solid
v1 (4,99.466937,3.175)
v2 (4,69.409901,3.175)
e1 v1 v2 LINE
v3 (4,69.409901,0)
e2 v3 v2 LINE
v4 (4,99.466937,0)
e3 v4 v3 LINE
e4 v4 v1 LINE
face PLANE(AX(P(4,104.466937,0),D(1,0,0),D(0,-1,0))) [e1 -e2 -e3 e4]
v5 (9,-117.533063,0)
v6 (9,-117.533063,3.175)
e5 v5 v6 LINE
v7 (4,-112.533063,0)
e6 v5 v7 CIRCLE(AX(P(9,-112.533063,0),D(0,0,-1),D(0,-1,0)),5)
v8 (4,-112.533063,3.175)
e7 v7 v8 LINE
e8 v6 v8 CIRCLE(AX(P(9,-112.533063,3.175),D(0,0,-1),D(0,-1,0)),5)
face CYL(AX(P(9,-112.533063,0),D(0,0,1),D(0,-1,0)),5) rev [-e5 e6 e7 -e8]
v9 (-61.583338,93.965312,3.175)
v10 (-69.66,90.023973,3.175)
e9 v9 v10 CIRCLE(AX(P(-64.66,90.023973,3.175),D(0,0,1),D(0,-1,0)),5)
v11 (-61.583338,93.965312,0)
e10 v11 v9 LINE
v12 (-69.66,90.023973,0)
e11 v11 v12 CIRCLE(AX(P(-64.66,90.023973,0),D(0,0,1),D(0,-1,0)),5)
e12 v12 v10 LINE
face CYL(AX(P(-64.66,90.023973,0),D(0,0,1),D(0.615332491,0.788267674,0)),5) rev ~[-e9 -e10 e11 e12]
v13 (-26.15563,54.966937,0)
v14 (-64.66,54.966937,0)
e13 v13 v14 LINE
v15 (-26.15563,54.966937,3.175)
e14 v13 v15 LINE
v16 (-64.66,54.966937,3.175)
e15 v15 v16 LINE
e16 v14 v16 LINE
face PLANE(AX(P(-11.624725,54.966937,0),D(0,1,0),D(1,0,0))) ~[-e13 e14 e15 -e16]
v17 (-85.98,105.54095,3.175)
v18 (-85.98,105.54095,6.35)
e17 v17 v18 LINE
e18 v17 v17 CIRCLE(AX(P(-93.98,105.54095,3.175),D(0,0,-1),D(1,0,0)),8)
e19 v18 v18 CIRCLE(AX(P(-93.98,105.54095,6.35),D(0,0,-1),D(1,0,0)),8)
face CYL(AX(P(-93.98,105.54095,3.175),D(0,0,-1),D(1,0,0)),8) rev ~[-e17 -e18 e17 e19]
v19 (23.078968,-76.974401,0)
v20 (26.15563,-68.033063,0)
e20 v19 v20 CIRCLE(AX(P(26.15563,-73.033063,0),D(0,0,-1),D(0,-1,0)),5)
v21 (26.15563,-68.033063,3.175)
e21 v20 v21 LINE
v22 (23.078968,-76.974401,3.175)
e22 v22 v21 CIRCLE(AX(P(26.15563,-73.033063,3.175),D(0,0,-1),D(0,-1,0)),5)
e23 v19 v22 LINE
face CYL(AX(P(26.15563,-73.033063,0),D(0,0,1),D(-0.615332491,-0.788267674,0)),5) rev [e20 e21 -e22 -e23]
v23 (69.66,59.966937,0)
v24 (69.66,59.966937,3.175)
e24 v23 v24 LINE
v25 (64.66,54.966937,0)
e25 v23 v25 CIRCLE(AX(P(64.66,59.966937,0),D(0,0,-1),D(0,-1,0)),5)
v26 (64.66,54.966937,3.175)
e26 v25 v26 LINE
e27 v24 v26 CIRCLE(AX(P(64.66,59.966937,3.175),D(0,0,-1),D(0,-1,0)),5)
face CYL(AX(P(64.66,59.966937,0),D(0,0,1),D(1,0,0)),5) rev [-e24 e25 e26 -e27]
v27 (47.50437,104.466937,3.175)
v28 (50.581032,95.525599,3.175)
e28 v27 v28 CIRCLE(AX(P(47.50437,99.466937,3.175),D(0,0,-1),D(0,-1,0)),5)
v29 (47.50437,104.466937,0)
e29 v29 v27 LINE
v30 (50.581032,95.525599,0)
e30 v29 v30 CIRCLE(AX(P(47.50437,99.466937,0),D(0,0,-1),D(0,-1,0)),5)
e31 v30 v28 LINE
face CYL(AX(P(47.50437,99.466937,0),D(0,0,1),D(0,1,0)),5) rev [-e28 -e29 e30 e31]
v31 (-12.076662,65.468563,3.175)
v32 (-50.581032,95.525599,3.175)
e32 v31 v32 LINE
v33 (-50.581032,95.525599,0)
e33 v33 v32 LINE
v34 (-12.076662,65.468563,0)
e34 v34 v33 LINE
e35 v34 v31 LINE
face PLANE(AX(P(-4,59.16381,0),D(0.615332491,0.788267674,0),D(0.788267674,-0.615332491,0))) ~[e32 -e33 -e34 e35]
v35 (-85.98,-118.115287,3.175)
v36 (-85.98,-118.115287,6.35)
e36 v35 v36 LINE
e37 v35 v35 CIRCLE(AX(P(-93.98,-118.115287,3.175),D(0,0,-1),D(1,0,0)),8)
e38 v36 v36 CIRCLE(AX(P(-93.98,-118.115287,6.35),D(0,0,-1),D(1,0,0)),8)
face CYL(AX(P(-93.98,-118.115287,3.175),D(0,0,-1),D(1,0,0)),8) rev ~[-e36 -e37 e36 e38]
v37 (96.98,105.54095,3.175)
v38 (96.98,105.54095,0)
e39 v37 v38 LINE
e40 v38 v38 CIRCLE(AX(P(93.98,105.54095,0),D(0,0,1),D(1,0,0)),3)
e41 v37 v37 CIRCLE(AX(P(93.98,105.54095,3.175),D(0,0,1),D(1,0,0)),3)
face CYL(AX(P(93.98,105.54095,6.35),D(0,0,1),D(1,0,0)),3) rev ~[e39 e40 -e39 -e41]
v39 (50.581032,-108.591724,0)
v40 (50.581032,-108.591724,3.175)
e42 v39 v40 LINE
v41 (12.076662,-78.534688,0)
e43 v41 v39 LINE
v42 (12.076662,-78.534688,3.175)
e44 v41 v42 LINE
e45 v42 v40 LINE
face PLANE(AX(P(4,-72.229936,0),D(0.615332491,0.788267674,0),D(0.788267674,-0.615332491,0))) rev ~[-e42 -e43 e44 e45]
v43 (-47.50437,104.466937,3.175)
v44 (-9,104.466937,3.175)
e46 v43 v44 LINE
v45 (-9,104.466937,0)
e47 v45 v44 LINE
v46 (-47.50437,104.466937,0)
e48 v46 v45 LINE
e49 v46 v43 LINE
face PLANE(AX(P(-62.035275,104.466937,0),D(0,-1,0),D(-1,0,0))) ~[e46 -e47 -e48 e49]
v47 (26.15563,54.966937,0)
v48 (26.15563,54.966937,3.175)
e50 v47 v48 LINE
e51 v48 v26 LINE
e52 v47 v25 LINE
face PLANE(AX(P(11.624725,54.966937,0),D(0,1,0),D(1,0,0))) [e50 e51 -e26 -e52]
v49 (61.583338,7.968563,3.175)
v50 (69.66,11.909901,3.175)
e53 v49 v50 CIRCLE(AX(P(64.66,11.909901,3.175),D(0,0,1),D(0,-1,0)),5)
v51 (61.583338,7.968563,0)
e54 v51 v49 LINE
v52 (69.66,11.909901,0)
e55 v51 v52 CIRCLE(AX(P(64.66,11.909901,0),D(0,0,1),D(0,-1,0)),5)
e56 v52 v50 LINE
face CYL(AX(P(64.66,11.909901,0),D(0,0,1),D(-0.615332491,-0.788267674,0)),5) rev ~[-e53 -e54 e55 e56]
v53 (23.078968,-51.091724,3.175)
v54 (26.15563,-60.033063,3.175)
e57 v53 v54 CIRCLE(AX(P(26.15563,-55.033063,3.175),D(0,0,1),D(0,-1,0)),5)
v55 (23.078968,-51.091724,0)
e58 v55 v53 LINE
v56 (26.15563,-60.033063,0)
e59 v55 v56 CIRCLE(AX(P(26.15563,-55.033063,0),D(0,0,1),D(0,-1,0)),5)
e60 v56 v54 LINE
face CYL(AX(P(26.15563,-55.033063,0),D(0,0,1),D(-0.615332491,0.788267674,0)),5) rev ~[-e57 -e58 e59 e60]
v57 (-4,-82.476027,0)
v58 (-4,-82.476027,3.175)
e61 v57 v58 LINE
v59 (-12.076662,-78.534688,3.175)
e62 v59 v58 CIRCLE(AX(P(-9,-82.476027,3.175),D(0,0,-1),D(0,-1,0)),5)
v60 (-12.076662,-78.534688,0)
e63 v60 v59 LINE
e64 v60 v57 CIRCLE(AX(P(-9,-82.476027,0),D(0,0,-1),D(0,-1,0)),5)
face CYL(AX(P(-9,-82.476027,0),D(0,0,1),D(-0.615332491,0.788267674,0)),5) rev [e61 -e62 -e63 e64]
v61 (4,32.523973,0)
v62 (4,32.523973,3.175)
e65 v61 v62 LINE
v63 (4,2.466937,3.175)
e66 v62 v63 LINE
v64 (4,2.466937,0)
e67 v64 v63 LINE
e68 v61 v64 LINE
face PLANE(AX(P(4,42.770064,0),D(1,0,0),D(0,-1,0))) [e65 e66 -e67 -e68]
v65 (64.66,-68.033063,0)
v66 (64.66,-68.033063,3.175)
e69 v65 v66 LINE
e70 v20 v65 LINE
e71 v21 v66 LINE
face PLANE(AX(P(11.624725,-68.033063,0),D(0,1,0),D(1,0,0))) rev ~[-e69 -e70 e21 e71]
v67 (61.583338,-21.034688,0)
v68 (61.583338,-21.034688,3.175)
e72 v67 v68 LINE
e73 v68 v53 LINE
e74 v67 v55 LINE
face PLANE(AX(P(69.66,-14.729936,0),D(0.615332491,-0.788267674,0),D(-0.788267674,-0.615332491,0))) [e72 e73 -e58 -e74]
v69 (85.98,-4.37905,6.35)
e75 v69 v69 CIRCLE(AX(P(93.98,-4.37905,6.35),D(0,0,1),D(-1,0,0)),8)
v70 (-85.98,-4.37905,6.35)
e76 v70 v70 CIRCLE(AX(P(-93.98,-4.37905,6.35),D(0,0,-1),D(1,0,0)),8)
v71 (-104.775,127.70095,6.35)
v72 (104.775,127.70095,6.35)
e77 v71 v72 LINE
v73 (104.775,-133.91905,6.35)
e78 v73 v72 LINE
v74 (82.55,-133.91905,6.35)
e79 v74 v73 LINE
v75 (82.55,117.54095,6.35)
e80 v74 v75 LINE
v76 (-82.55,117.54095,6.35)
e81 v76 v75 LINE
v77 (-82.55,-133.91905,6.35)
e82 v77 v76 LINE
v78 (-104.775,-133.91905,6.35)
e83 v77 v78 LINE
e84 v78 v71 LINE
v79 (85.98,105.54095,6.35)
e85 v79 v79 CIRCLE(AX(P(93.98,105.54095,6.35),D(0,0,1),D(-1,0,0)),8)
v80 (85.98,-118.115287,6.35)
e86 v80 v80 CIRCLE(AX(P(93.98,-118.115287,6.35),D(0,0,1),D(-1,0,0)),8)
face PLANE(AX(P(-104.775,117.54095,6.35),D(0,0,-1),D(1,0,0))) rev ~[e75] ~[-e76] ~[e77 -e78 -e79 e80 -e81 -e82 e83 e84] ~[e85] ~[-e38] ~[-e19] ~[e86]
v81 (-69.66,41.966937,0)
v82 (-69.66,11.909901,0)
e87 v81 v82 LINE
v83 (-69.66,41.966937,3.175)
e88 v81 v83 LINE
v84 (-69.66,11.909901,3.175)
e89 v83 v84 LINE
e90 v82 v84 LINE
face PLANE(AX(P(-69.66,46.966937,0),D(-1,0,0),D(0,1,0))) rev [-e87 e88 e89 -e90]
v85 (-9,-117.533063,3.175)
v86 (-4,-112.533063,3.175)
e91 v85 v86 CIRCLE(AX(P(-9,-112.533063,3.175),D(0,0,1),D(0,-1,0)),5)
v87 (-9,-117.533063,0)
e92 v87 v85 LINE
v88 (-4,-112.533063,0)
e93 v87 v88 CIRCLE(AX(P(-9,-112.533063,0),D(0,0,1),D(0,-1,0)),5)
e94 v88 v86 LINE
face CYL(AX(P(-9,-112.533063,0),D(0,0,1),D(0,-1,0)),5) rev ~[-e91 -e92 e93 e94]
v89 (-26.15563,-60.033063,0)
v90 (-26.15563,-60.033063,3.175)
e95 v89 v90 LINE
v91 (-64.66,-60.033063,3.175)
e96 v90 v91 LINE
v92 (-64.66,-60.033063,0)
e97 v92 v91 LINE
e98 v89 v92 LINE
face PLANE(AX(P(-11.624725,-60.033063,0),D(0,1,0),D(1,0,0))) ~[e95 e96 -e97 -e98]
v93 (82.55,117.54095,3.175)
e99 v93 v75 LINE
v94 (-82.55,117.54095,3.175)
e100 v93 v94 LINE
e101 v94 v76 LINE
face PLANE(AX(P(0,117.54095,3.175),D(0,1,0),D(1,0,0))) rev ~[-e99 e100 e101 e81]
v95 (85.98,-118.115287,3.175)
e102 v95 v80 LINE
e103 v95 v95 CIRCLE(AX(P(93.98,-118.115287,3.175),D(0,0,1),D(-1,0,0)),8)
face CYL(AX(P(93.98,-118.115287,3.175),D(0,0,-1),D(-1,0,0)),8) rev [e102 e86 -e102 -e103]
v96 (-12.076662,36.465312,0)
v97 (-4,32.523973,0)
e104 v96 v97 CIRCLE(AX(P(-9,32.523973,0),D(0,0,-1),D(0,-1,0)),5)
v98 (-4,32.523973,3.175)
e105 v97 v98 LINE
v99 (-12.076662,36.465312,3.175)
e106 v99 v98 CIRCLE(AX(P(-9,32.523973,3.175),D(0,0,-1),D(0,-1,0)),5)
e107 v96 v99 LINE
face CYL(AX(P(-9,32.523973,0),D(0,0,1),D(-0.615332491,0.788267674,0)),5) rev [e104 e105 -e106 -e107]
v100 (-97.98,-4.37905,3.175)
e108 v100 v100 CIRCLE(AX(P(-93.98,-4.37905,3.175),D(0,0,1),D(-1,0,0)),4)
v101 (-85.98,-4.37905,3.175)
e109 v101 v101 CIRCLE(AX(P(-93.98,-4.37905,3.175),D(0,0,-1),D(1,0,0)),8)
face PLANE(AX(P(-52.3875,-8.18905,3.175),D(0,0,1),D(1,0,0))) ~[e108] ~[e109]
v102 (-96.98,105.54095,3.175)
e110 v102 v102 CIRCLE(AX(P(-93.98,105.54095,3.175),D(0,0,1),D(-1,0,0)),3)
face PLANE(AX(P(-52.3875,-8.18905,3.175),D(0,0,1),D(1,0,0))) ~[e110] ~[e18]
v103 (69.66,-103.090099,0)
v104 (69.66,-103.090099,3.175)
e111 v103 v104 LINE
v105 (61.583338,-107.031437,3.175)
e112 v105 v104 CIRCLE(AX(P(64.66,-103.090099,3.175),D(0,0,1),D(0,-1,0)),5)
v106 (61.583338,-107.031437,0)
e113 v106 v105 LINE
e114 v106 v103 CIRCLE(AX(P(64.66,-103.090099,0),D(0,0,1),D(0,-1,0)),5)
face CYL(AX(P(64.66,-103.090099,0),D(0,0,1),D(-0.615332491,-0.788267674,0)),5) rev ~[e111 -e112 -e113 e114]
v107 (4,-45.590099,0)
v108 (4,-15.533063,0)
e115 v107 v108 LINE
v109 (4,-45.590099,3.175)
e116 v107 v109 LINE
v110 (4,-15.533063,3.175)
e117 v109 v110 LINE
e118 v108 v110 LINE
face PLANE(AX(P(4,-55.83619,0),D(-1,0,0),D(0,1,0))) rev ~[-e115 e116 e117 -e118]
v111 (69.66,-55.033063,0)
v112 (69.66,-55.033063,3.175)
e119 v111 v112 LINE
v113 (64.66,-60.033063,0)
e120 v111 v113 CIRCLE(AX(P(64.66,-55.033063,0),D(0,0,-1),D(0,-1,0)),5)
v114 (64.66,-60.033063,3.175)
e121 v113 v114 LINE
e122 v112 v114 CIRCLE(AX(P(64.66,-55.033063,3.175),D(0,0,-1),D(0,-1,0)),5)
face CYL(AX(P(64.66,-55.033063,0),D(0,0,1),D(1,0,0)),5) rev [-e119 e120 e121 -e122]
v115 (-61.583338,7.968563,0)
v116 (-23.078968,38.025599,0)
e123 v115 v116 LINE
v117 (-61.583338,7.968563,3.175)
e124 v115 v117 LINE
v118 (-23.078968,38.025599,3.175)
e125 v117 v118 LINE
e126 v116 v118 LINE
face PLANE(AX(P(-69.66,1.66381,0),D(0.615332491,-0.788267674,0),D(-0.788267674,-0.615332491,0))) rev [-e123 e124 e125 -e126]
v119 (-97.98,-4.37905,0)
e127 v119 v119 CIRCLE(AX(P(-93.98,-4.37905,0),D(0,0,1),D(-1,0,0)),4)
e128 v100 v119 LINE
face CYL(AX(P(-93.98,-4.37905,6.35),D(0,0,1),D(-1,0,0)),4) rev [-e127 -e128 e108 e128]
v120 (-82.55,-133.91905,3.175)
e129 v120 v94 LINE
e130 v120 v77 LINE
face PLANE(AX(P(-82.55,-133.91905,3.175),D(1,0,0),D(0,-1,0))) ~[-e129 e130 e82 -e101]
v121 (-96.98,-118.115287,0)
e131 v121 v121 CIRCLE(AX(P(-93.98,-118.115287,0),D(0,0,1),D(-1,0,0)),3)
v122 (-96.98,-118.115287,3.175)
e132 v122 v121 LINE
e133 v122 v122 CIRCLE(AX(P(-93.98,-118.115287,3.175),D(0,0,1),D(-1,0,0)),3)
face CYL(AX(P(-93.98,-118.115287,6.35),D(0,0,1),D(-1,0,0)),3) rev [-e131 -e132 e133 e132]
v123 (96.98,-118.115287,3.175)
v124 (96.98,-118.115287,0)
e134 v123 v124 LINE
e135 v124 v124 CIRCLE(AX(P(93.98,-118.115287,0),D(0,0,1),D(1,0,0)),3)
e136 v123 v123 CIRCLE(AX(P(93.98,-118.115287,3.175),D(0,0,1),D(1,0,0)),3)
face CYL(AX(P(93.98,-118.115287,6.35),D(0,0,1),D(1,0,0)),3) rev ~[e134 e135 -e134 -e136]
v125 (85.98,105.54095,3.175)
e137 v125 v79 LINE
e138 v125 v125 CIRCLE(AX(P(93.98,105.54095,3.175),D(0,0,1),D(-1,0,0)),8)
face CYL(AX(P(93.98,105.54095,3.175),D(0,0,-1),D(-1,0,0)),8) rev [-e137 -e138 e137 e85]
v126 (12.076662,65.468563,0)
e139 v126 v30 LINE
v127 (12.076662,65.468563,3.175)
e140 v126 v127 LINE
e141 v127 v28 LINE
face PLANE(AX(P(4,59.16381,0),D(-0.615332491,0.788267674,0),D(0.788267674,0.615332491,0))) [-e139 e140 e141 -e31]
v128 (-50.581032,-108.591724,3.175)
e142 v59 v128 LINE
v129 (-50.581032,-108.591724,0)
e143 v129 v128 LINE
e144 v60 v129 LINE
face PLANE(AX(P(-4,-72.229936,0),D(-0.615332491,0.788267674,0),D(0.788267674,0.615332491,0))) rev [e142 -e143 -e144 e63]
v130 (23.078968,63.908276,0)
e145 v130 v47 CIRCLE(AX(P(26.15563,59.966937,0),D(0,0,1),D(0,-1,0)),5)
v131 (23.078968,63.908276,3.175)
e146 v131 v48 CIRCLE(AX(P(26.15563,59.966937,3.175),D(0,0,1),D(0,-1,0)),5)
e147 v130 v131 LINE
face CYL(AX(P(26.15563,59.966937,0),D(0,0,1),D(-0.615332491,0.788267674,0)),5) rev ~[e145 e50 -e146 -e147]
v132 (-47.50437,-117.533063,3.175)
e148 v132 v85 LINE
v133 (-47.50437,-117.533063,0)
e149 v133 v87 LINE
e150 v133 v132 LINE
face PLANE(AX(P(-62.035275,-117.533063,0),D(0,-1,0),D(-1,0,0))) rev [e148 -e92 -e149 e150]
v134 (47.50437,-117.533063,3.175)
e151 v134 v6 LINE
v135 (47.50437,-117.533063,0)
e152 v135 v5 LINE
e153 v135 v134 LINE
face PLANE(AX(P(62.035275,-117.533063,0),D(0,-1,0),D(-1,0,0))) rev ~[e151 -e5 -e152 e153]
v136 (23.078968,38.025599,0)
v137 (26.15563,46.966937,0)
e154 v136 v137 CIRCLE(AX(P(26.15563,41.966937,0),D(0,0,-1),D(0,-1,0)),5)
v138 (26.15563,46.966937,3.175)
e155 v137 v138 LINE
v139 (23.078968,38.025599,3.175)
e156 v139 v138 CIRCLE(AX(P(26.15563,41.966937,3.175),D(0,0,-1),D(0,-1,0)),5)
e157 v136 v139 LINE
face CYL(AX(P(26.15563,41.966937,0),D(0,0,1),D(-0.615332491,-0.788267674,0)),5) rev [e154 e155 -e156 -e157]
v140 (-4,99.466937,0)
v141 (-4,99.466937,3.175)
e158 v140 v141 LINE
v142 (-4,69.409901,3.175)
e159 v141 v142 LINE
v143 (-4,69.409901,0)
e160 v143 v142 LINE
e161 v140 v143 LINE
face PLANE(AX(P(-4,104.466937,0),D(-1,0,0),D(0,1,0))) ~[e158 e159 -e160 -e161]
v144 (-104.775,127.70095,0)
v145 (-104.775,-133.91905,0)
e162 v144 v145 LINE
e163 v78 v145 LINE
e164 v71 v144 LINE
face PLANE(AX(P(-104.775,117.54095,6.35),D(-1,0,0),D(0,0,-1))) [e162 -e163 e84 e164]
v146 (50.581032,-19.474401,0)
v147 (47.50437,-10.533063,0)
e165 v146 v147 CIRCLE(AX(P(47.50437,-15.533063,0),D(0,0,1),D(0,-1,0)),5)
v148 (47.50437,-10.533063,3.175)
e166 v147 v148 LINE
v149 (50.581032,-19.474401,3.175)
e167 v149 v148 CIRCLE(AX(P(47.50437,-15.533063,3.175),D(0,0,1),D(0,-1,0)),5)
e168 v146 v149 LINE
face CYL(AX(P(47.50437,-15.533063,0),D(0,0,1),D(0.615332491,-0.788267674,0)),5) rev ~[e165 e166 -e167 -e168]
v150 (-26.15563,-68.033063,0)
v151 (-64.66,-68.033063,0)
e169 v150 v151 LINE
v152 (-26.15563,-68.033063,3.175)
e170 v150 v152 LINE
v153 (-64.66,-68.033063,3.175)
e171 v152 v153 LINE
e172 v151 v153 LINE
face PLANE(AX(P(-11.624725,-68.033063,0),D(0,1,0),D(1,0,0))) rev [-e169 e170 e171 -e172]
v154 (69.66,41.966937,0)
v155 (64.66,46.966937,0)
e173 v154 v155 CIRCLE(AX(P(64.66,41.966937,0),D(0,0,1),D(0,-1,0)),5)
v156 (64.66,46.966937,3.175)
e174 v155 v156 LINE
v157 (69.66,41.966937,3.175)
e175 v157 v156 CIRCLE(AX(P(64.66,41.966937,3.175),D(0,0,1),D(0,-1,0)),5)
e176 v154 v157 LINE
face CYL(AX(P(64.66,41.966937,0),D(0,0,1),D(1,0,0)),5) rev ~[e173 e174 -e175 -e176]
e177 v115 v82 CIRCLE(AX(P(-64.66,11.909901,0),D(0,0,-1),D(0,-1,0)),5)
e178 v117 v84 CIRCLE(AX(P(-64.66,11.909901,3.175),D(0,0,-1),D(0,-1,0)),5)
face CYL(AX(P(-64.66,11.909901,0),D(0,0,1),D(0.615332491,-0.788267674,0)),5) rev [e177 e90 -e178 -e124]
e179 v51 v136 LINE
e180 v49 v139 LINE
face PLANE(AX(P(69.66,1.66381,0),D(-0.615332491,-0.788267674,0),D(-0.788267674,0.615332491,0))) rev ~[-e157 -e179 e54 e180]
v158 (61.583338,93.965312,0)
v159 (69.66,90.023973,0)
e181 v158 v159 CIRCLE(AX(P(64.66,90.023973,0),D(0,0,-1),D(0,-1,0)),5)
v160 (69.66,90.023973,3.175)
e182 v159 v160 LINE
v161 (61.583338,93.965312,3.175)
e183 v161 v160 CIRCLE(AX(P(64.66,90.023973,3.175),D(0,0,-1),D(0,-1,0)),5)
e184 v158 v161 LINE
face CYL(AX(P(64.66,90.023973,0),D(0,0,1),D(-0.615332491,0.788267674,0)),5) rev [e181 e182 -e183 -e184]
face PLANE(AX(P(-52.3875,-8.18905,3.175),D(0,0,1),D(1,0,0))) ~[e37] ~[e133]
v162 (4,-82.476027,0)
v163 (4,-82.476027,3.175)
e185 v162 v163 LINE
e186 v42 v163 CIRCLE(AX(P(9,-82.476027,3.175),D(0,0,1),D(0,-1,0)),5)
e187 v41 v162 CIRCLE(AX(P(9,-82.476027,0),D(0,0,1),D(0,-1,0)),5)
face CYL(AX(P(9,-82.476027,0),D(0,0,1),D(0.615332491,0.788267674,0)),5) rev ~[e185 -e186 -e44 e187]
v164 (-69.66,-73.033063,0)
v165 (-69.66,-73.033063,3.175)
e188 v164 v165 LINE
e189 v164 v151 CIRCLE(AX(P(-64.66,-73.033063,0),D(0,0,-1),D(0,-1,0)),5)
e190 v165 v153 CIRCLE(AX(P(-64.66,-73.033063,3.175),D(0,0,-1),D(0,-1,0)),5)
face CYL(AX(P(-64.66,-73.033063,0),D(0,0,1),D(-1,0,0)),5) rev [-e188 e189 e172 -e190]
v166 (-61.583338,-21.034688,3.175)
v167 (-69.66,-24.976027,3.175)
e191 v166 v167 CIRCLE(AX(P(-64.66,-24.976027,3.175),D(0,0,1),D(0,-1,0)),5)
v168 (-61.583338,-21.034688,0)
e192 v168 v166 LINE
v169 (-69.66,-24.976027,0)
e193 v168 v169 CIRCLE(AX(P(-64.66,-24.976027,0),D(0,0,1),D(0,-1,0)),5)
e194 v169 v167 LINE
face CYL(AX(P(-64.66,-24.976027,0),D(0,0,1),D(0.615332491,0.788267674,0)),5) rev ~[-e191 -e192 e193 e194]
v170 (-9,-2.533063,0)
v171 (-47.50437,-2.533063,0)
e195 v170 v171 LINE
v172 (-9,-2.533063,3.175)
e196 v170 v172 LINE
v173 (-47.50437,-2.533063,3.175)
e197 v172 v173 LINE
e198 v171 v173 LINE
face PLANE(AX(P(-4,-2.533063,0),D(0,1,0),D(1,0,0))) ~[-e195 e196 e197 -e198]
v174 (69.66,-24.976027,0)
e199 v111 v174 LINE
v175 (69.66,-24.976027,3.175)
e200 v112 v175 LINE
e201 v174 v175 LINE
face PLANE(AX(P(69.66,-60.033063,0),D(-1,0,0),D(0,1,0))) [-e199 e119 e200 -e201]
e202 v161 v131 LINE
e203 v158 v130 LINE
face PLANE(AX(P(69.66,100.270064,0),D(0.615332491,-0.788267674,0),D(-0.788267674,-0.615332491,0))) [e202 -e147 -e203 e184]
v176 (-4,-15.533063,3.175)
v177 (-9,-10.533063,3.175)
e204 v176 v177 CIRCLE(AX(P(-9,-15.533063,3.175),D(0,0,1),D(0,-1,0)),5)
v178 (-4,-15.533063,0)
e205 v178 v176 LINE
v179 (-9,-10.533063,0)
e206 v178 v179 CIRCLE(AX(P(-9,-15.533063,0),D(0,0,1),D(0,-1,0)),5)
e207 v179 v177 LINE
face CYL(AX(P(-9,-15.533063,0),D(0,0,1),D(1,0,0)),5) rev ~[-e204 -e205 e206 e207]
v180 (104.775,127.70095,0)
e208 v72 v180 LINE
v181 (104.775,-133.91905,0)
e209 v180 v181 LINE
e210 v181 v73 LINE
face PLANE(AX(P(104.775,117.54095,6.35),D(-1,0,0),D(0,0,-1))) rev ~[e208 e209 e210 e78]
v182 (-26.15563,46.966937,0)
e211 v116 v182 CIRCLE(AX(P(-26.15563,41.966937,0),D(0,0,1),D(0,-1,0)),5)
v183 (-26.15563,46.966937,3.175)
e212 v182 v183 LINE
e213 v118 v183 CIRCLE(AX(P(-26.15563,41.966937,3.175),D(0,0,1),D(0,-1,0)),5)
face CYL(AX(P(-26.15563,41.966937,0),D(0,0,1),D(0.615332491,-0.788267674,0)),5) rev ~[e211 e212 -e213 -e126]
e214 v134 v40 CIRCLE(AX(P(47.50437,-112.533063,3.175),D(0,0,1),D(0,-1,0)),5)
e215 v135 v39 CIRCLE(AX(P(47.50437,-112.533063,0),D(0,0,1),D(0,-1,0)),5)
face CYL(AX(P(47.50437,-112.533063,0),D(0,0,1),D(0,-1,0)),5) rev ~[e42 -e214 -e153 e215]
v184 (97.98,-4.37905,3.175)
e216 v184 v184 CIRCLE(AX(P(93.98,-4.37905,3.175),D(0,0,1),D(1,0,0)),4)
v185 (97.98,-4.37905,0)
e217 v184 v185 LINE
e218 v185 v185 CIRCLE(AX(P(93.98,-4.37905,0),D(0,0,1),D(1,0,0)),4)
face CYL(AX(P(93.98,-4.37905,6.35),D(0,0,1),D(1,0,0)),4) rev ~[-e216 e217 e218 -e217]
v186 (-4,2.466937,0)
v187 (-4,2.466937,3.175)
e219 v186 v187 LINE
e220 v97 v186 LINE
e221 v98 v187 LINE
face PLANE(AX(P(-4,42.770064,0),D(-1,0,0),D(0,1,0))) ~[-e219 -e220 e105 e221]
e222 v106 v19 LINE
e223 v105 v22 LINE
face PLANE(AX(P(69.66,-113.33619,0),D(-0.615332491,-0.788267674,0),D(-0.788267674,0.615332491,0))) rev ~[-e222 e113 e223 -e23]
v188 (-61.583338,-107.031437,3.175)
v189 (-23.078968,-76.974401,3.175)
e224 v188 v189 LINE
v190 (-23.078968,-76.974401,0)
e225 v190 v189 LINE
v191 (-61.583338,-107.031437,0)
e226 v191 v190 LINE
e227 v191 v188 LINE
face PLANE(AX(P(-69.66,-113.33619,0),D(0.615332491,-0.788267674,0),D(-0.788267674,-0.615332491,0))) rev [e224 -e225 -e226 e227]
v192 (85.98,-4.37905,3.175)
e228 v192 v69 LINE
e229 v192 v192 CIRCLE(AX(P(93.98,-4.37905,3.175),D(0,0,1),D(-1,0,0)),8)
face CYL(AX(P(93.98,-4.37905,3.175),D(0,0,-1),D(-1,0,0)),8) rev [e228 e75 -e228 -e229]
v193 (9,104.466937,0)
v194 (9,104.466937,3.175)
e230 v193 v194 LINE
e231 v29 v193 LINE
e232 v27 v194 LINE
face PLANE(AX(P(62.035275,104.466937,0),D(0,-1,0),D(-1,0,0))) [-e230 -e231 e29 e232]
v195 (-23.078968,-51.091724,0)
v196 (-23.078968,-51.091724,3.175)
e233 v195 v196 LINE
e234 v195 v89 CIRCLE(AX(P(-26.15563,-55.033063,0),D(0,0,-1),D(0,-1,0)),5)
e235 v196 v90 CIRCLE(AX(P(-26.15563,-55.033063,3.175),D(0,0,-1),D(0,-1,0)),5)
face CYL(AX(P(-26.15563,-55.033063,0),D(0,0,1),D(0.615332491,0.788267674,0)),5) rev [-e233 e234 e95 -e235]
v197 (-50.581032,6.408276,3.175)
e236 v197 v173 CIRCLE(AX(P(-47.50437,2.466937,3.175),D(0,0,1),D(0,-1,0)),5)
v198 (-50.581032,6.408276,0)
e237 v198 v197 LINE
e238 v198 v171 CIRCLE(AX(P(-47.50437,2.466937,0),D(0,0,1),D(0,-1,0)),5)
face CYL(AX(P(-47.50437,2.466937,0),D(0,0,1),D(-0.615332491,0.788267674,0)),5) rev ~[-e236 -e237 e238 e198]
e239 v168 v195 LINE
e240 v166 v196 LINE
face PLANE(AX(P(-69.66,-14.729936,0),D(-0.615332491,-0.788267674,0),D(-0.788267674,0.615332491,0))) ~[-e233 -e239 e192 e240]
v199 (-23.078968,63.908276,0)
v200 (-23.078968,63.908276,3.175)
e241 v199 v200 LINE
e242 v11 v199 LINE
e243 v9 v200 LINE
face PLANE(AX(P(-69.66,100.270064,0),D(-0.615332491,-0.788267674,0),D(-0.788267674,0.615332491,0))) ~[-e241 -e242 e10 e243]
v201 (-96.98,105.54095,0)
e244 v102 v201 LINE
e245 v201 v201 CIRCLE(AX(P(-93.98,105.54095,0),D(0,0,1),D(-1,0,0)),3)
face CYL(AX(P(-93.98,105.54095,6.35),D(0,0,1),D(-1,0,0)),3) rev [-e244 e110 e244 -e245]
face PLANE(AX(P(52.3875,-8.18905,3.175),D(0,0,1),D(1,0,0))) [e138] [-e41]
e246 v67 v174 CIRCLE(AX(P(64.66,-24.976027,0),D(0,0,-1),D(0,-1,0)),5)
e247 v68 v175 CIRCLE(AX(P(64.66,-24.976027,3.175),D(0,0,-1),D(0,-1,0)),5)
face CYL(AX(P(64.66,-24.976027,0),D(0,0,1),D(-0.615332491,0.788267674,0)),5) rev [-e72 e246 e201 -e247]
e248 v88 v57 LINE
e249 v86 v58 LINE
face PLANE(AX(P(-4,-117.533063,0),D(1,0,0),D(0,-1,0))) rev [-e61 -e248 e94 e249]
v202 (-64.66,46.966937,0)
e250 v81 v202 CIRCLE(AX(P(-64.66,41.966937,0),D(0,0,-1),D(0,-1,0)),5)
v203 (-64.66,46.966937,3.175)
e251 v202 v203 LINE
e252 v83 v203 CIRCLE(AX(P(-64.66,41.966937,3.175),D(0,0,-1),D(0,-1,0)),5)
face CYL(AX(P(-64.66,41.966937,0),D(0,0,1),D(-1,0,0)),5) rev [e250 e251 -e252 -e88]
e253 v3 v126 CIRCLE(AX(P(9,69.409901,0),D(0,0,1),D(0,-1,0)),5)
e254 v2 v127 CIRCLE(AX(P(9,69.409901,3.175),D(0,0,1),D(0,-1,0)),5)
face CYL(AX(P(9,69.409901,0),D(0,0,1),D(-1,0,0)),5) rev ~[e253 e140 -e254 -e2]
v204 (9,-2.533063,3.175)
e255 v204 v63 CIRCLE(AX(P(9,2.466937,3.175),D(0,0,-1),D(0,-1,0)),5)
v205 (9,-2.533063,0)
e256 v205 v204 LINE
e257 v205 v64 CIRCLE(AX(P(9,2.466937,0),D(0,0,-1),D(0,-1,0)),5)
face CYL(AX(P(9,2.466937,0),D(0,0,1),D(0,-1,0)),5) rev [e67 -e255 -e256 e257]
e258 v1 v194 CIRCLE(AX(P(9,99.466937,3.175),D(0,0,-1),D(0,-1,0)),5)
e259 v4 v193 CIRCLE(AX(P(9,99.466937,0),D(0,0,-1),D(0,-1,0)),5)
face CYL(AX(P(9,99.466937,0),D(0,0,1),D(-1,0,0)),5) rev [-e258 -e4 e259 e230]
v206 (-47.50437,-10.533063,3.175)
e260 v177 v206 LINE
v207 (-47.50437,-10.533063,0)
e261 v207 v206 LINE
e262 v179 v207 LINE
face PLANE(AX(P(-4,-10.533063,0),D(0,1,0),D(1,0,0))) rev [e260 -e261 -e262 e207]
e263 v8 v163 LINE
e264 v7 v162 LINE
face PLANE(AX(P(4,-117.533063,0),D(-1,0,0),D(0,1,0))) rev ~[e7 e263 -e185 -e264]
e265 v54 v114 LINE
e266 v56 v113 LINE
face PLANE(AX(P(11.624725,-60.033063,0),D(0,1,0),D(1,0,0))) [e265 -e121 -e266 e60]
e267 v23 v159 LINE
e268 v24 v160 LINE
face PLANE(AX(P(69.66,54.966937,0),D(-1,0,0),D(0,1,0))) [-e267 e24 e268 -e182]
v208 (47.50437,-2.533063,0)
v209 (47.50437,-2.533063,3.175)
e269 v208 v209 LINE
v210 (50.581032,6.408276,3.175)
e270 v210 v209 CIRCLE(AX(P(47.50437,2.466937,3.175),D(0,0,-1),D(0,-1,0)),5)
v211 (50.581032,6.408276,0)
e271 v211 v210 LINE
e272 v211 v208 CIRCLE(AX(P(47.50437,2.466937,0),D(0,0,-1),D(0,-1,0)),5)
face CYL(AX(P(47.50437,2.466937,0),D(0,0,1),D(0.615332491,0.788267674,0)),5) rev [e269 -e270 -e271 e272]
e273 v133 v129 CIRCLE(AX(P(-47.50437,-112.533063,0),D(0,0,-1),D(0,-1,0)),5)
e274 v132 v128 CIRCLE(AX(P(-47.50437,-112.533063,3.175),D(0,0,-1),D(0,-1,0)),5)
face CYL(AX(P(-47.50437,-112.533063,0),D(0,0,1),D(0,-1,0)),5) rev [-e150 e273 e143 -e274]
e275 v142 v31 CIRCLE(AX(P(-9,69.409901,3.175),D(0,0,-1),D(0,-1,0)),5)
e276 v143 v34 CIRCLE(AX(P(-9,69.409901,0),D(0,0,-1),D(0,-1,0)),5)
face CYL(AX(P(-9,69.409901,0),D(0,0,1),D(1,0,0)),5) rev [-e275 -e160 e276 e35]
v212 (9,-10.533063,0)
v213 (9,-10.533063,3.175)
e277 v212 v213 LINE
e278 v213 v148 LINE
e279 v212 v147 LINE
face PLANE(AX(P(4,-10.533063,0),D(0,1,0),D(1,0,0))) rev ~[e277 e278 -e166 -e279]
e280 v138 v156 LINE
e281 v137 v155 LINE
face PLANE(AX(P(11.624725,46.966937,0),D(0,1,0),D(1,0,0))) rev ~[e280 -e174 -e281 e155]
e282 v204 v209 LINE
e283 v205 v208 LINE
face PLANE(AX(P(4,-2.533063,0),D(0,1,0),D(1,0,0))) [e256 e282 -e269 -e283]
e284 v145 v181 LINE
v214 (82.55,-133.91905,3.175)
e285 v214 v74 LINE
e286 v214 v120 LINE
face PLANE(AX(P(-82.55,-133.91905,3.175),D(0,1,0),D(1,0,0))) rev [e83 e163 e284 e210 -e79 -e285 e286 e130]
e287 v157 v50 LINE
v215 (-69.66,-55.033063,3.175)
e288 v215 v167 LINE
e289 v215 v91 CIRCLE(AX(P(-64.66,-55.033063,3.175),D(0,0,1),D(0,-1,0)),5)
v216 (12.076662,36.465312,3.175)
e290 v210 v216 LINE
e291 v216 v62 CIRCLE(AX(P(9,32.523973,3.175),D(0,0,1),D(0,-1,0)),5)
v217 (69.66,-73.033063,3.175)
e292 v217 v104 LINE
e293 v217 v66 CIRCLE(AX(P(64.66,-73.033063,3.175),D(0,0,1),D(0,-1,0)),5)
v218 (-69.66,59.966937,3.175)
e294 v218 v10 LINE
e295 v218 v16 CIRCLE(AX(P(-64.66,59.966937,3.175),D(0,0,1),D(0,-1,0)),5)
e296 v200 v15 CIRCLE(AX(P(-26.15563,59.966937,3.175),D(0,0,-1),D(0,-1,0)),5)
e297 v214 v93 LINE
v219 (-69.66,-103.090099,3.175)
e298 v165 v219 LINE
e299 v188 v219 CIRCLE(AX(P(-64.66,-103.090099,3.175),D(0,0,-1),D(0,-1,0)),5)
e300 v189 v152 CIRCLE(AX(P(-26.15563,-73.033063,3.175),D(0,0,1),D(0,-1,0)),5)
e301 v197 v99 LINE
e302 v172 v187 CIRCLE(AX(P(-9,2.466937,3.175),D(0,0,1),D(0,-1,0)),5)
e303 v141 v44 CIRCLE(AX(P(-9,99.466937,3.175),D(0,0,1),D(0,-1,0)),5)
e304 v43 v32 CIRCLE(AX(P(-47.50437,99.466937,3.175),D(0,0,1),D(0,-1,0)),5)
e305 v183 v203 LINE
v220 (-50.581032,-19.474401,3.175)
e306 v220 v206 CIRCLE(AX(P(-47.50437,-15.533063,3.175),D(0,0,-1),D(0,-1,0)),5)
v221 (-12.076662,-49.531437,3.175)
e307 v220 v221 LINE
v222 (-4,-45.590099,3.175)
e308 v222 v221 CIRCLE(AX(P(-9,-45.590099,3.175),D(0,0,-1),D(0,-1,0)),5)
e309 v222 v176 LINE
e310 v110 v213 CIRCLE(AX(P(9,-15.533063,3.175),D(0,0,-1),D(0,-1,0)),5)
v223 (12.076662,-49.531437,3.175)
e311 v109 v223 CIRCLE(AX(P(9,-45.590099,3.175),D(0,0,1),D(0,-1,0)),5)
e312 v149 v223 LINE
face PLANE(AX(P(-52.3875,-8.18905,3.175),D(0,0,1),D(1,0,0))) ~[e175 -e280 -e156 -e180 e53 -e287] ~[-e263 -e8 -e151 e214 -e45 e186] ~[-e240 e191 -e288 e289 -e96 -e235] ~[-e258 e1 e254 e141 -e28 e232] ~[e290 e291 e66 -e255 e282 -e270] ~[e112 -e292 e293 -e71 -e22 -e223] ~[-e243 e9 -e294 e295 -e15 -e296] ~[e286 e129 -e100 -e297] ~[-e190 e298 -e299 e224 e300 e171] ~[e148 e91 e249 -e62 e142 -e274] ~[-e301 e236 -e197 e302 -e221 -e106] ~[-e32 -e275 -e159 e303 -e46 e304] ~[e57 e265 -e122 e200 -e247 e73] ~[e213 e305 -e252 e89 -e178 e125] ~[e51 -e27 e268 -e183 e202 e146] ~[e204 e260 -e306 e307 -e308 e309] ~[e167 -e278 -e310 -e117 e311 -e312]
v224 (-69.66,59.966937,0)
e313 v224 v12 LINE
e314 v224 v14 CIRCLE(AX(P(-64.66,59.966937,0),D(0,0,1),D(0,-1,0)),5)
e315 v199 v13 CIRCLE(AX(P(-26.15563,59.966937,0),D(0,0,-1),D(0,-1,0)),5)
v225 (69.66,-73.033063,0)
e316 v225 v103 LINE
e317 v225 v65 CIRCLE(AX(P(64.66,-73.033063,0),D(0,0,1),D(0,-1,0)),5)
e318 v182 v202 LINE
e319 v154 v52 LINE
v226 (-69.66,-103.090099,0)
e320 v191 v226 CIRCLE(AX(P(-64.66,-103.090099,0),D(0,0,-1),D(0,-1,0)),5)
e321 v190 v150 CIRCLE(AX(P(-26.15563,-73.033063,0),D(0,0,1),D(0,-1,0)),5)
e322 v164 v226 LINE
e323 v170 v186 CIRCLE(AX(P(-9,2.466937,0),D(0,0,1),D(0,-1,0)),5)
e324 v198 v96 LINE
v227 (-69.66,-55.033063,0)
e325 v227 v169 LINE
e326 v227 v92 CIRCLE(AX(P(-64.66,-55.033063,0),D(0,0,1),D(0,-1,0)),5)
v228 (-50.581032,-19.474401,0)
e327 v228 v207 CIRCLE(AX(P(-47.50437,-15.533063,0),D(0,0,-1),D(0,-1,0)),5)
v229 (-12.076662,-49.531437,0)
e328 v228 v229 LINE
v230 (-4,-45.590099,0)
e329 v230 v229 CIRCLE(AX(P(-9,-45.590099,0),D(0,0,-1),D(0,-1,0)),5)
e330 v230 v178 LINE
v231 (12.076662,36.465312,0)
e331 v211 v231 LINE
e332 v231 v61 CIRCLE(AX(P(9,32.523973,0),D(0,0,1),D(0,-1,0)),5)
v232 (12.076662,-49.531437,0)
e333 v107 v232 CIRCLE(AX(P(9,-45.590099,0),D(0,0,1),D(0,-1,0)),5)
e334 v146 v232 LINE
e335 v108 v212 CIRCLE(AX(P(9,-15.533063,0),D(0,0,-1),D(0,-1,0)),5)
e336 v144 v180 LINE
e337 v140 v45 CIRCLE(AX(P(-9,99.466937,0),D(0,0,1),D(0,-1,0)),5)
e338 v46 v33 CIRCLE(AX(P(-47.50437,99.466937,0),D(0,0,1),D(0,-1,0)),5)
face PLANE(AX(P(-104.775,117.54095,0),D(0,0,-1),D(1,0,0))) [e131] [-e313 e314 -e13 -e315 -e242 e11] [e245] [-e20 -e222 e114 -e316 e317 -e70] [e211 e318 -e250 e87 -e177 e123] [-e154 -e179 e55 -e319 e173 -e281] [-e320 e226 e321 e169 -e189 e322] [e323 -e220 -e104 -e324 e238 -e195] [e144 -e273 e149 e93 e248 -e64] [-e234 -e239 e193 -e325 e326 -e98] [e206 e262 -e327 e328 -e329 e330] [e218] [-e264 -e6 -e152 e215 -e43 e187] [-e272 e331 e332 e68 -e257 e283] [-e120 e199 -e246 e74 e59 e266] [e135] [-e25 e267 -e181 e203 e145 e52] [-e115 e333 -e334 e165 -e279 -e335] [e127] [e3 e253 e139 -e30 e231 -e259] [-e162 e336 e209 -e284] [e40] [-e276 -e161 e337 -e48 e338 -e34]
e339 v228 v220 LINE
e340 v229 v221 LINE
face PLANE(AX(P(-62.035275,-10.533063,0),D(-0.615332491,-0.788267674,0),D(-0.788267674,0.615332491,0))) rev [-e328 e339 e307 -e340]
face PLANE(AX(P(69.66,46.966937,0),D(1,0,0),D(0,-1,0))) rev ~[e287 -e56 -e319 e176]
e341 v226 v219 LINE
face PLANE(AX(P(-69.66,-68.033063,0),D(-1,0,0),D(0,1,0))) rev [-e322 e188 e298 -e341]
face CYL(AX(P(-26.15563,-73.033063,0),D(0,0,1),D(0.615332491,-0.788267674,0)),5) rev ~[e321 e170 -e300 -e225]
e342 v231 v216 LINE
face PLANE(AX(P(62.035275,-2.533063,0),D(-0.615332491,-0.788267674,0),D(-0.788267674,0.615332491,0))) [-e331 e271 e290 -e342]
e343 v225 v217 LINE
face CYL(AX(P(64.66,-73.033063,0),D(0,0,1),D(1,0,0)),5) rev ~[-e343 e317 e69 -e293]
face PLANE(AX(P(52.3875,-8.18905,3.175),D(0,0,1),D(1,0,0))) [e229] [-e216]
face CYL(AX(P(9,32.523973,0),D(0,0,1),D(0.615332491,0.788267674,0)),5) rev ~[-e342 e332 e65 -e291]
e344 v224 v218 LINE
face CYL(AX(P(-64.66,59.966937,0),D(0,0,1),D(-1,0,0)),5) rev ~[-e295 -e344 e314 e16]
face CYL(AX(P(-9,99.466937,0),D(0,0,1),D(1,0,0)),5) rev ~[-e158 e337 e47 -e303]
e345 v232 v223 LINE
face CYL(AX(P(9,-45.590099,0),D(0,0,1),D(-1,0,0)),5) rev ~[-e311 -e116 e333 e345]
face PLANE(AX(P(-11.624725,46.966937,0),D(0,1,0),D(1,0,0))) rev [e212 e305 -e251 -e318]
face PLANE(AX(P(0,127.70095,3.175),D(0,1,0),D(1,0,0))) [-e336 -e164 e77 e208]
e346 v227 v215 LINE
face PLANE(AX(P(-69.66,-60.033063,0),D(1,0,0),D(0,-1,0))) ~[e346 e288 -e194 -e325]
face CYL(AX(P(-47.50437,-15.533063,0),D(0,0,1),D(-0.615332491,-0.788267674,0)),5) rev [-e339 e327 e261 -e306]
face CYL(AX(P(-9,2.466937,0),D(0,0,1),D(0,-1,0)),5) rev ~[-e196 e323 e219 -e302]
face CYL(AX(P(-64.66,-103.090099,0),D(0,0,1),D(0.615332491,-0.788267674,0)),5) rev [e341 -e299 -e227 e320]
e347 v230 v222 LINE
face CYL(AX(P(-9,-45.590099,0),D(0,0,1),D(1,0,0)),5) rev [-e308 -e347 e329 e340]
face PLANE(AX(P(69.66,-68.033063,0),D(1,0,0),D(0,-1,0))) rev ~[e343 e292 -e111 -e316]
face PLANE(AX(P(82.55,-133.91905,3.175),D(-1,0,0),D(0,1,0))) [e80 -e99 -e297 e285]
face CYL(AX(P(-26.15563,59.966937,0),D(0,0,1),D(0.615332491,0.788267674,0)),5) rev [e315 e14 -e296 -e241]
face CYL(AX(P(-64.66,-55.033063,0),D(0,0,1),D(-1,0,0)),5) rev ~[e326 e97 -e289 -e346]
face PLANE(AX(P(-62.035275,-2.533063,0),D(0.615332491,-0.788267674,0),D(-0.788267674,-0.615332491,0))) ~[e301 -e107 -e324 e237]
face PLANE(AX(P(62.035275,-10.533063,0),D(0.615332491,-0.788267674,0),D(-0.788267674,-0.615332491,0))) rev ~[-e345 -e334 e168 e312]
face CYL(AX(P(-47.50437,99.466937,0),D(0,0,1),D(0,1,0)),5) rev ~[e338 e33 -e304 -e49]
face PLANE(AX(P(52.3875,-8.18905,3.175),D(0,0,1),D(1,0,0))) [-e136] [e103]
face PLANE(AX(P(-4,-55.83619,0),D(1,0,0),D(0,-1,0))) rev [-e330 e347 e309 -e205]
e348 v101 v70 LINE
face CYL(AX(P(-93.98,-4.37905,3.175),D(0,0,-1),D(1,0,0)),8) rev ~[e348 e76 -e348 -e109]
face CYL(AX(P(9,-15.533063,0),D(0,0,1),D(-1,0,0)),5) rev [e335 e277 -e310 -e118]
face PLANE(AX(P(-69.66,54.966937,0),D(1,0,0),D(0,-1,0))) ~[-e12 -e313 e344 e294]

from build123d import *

# Parameters (mm, degrees)
SKETCH1_W                   = 104.775
SKETCH1_H                   = 251.46
BOSS_EXTRUDE2_DEPTH         = 3.175
CUTOUT_FILLETS_R            = 5
SKETCH2_W                   = 22.225
SKETCH2_H                   = 251.46
SKETCH2_R                   = 8
BOSS_EXTRUDE3_DEPTH         = 3.175
SKETCH3_R                   = 3
SKETCH3_R_2                 = 4
CUT_EXTRUDE1_DEPTH          = 30
CUTOUT_FILLETS_OF_MIRROR2_R = 5
SKETCH4_W                   = 209.55
SKETCH4_H                   = 6.35
BOSS_EXTRUDE4_DEPTH         = 10.16


with BuildPart() as part:
    # Sketch1 → Boss-Extrude2 (new body)
    with BuildSketch(Plane.XY):
        with Locations((52.3875, -8.189050142)):
            Rectangle(SKETCH1_W, SKETCH1_H)
        Polygon((4, 104.466937315), (4, 59.163810249), (62.035275472, 104.466937315), align=None, mode=Mode.SUBTRACT)
        Polygon((69.66, 100.270064381), (11.624724528, 54.966937315), (69.66, 54.966937315), align=None, mode=Mode.SUBTRACT)
        Polygon((11.624724528, 46.966937315), (69.66, 46.966937315), (69.66, 1.663810249), align=None, mode=Mode.SUBTRACT)
        Polygon((62.035275472, -2.533062685), (4, 42.770064381), (4, -2.533062685), align=None, mode=Mode.SUBTRACT)
        Polygon((4, -10.533062685), (62.035275472, -10.533062685), (4, -55.836189751), align=None, mode=Mode.SUBTRACT)
        Polygon((69.66, -14.729935619), (11.624724528, -60.033062685), (69.66, -60.033062685), align=None, mode=Mode.SUBTRACT)
        Polygon((11.624724528, -68.033062685), (69.66, -68.033062685), (69.66, -113.336189751), align=None, mode=Mode.SUBTRACT)
        Polygon((4, -117.533062685), (4, -72.229935619), (62.035275472, -117.533062685), align=None, mode=Mode.SUBTRACT)
    boss_extrude2 = extrude(amount=BOSS_EXTRUDE2_DEPTH)

    # Cutout_Fillets
    cutout_fillets_edges = [part.edges().sort_by_distance(p)[0] for p in [
        (62.035275472, 104.466937315, 1.5875),
        (4, 104.466937315, 1.5875),
        (4, 59.163810249, 1.5875),
        (69.66, 54.966937315, 1.5875),
        (69.66, 100.270064381, 1.5875),
        (11.624724528, 54.966937315, 1.5875),
        (11.624724528, 46.966937315, 1.5875),
        (69.66, 1.663810249, 1.5875),
        (69.66, 46.966937315, 1.5875),
        (4, -2.533062685, 1.5875),
        (62.035275472, -2.533062685, 1.5875),
        (4, 42.770064381, 1.5875),
        (4, -10.533062685, 1.5875),
        (4, -55.836189751, 1.5875),
        (62.035275472, -10.533062685, 1.5875),
        (69.66, -60.033062685, 1.5875),
        (69.66, -14.729935619, 1.5875),
        (11.624724528, -60.033062685, 1.5875),
        (11.624724528, -68.033062685, 1.5875),
        (69.66, -113.336189751, 1.5875),
        (69.66, -68.033062685, 1.5875),
        (4, -117.533062685, 1.5875),
        (62.035275472, -117.533062685, 1.5875),
        (4, -72.229935619, 1.5875),
    ]]
    fillet(cutout_fillets_edges, radius=CUTOUT_FILLETS_R)

    # Sketch2 → Boss-Extrude3 (add)
    with BuildSketch(Plane.XY.offset(3.175)):
        with Locations((93.6625, -8.189050142)):
            Rectangle(SKETCH2_W, SKETCH2_H)
        with Locations(Location((93.98, -118.115286613, 0), (0, 0, 180))):
            Circle(SKETCH2_R, mode=Mode.SUBTRACT)
        with Locations(Location((93.98, -4.379050142, 0), (0, 0, 180))):
            Circle(SKETCH2_R, mode=Mode.SUBTRACT)
        with Locations(Location((93.98, 105.540949858, 0), (0, 0, 180))):
            Circle(SKETCH2_R, mode=Mode.SUBTRACT)
    boss_extrude3 = extrude(amount=BOSS_EXTRUDE3_DEPTH)

    # Sketch3 → Cut-Extrude1 (cut)
    with BuildSketch(Plane.XY.offset(6.35)):
        with Locations((93.98, 105.540949858)):
            Circle(SKETCH3_R)
        with Locations((93.98, -4.379050142)):
            Circle(SKETCH3_R_2)
        with Locations((93.98, -118.115286613)):
            Circle(SKETCH3_R)
    cut_extrude1 = extrude(amount=-CUT_EXTRUDE1_DEPTH, mode=Mode.SUBTRACT)

    # Mirror2: Boss-Extrude2, Boss-Extrude3, Cut-Extrude1 across Right Plane
    add(boss_extrude2.mirror(Plane(origin=(0, 0, 0), x_dir=(0, 0, -1), z_dir=(1, 0, 0))))
    add(boss_extrude3.mirror(Plane(origin=(0, 0, 0), x_dir=(0, 0, -1), z_dir=(1, 0, 0))))
    add(cut_extrude1.mirror(Plane(origin=(0, 0, 0), x_dir=(0, 0, -1), z_dir=(1, 0, 0))), mode=Mode.SUBTRACT)

    # Cutout_Fillets of Mirror2
    cutout_fillets_of_mirror2_edges = [part.edges().sort_by_distance(p)[0] for p in [
        (-62.035275472, 104.466937315, 1.5875),
        (-4, 104.466937315, 1.5875),
        (-4, 59.163810249, 1.5875),
        (-69.66, 54.966937315, 1.5875),
        (-69.66, 100.270064381, 1.5875),
        (-11.624724528, 54.966937315, 1.5875),
        (-11.624724528, 46.966937315, 1.5875),
        (-69.66, 1.663810249, 1.5875),
        (-69.66, 46.966937315, 1.5875),
        (-4, -2.533062685, 1.5875),
        (-62.035275472, -2.533062685, 1.5875),
        (-4, 42.770064381, 1.5875),
        (-4, -10.533062685, 1.5875),
        (-4, -55.836189751, 1.5875),
        (-62.035275472, -10.533062685, 1.5875),
        (-69.66, -60.033062685, 1.5875),
        (-69.66, -14.729935619, 1.5875),
        (-11.624724528, -60.033062685, 1.5875),
        (-11.624724528, -68.033062685, 1.5875),
        (-69.66, -113.336189751, 1.5875),
        (-69.66, -68.033062685, 1.5875),
        (-4, -117.533062685, 1.5875),
        (-62.035275472, -117.533062685, 1.5875),
        (-4, -72.229935619, 1.5875),
    ]]
    fillet(cutout_fillets_of_mirror2_edges, radius=CUTOUT_FILLETS_OF_MIRROR2_R)

    # Sketch4 → Boss-Extrude4 (add)
    with BuildSketch(Plane(origin=(0, 117.540949858, 0), x_dir=(1, 0, 0), z_dir=(0, 1, 0))):
        with Locations((0, -3.175)):
            Rectangle(SKETCH4_W, SKETCH4_H)
    extrude(amount=BOSS_EXTRUDE4_DEPTH)


solid = part.part
